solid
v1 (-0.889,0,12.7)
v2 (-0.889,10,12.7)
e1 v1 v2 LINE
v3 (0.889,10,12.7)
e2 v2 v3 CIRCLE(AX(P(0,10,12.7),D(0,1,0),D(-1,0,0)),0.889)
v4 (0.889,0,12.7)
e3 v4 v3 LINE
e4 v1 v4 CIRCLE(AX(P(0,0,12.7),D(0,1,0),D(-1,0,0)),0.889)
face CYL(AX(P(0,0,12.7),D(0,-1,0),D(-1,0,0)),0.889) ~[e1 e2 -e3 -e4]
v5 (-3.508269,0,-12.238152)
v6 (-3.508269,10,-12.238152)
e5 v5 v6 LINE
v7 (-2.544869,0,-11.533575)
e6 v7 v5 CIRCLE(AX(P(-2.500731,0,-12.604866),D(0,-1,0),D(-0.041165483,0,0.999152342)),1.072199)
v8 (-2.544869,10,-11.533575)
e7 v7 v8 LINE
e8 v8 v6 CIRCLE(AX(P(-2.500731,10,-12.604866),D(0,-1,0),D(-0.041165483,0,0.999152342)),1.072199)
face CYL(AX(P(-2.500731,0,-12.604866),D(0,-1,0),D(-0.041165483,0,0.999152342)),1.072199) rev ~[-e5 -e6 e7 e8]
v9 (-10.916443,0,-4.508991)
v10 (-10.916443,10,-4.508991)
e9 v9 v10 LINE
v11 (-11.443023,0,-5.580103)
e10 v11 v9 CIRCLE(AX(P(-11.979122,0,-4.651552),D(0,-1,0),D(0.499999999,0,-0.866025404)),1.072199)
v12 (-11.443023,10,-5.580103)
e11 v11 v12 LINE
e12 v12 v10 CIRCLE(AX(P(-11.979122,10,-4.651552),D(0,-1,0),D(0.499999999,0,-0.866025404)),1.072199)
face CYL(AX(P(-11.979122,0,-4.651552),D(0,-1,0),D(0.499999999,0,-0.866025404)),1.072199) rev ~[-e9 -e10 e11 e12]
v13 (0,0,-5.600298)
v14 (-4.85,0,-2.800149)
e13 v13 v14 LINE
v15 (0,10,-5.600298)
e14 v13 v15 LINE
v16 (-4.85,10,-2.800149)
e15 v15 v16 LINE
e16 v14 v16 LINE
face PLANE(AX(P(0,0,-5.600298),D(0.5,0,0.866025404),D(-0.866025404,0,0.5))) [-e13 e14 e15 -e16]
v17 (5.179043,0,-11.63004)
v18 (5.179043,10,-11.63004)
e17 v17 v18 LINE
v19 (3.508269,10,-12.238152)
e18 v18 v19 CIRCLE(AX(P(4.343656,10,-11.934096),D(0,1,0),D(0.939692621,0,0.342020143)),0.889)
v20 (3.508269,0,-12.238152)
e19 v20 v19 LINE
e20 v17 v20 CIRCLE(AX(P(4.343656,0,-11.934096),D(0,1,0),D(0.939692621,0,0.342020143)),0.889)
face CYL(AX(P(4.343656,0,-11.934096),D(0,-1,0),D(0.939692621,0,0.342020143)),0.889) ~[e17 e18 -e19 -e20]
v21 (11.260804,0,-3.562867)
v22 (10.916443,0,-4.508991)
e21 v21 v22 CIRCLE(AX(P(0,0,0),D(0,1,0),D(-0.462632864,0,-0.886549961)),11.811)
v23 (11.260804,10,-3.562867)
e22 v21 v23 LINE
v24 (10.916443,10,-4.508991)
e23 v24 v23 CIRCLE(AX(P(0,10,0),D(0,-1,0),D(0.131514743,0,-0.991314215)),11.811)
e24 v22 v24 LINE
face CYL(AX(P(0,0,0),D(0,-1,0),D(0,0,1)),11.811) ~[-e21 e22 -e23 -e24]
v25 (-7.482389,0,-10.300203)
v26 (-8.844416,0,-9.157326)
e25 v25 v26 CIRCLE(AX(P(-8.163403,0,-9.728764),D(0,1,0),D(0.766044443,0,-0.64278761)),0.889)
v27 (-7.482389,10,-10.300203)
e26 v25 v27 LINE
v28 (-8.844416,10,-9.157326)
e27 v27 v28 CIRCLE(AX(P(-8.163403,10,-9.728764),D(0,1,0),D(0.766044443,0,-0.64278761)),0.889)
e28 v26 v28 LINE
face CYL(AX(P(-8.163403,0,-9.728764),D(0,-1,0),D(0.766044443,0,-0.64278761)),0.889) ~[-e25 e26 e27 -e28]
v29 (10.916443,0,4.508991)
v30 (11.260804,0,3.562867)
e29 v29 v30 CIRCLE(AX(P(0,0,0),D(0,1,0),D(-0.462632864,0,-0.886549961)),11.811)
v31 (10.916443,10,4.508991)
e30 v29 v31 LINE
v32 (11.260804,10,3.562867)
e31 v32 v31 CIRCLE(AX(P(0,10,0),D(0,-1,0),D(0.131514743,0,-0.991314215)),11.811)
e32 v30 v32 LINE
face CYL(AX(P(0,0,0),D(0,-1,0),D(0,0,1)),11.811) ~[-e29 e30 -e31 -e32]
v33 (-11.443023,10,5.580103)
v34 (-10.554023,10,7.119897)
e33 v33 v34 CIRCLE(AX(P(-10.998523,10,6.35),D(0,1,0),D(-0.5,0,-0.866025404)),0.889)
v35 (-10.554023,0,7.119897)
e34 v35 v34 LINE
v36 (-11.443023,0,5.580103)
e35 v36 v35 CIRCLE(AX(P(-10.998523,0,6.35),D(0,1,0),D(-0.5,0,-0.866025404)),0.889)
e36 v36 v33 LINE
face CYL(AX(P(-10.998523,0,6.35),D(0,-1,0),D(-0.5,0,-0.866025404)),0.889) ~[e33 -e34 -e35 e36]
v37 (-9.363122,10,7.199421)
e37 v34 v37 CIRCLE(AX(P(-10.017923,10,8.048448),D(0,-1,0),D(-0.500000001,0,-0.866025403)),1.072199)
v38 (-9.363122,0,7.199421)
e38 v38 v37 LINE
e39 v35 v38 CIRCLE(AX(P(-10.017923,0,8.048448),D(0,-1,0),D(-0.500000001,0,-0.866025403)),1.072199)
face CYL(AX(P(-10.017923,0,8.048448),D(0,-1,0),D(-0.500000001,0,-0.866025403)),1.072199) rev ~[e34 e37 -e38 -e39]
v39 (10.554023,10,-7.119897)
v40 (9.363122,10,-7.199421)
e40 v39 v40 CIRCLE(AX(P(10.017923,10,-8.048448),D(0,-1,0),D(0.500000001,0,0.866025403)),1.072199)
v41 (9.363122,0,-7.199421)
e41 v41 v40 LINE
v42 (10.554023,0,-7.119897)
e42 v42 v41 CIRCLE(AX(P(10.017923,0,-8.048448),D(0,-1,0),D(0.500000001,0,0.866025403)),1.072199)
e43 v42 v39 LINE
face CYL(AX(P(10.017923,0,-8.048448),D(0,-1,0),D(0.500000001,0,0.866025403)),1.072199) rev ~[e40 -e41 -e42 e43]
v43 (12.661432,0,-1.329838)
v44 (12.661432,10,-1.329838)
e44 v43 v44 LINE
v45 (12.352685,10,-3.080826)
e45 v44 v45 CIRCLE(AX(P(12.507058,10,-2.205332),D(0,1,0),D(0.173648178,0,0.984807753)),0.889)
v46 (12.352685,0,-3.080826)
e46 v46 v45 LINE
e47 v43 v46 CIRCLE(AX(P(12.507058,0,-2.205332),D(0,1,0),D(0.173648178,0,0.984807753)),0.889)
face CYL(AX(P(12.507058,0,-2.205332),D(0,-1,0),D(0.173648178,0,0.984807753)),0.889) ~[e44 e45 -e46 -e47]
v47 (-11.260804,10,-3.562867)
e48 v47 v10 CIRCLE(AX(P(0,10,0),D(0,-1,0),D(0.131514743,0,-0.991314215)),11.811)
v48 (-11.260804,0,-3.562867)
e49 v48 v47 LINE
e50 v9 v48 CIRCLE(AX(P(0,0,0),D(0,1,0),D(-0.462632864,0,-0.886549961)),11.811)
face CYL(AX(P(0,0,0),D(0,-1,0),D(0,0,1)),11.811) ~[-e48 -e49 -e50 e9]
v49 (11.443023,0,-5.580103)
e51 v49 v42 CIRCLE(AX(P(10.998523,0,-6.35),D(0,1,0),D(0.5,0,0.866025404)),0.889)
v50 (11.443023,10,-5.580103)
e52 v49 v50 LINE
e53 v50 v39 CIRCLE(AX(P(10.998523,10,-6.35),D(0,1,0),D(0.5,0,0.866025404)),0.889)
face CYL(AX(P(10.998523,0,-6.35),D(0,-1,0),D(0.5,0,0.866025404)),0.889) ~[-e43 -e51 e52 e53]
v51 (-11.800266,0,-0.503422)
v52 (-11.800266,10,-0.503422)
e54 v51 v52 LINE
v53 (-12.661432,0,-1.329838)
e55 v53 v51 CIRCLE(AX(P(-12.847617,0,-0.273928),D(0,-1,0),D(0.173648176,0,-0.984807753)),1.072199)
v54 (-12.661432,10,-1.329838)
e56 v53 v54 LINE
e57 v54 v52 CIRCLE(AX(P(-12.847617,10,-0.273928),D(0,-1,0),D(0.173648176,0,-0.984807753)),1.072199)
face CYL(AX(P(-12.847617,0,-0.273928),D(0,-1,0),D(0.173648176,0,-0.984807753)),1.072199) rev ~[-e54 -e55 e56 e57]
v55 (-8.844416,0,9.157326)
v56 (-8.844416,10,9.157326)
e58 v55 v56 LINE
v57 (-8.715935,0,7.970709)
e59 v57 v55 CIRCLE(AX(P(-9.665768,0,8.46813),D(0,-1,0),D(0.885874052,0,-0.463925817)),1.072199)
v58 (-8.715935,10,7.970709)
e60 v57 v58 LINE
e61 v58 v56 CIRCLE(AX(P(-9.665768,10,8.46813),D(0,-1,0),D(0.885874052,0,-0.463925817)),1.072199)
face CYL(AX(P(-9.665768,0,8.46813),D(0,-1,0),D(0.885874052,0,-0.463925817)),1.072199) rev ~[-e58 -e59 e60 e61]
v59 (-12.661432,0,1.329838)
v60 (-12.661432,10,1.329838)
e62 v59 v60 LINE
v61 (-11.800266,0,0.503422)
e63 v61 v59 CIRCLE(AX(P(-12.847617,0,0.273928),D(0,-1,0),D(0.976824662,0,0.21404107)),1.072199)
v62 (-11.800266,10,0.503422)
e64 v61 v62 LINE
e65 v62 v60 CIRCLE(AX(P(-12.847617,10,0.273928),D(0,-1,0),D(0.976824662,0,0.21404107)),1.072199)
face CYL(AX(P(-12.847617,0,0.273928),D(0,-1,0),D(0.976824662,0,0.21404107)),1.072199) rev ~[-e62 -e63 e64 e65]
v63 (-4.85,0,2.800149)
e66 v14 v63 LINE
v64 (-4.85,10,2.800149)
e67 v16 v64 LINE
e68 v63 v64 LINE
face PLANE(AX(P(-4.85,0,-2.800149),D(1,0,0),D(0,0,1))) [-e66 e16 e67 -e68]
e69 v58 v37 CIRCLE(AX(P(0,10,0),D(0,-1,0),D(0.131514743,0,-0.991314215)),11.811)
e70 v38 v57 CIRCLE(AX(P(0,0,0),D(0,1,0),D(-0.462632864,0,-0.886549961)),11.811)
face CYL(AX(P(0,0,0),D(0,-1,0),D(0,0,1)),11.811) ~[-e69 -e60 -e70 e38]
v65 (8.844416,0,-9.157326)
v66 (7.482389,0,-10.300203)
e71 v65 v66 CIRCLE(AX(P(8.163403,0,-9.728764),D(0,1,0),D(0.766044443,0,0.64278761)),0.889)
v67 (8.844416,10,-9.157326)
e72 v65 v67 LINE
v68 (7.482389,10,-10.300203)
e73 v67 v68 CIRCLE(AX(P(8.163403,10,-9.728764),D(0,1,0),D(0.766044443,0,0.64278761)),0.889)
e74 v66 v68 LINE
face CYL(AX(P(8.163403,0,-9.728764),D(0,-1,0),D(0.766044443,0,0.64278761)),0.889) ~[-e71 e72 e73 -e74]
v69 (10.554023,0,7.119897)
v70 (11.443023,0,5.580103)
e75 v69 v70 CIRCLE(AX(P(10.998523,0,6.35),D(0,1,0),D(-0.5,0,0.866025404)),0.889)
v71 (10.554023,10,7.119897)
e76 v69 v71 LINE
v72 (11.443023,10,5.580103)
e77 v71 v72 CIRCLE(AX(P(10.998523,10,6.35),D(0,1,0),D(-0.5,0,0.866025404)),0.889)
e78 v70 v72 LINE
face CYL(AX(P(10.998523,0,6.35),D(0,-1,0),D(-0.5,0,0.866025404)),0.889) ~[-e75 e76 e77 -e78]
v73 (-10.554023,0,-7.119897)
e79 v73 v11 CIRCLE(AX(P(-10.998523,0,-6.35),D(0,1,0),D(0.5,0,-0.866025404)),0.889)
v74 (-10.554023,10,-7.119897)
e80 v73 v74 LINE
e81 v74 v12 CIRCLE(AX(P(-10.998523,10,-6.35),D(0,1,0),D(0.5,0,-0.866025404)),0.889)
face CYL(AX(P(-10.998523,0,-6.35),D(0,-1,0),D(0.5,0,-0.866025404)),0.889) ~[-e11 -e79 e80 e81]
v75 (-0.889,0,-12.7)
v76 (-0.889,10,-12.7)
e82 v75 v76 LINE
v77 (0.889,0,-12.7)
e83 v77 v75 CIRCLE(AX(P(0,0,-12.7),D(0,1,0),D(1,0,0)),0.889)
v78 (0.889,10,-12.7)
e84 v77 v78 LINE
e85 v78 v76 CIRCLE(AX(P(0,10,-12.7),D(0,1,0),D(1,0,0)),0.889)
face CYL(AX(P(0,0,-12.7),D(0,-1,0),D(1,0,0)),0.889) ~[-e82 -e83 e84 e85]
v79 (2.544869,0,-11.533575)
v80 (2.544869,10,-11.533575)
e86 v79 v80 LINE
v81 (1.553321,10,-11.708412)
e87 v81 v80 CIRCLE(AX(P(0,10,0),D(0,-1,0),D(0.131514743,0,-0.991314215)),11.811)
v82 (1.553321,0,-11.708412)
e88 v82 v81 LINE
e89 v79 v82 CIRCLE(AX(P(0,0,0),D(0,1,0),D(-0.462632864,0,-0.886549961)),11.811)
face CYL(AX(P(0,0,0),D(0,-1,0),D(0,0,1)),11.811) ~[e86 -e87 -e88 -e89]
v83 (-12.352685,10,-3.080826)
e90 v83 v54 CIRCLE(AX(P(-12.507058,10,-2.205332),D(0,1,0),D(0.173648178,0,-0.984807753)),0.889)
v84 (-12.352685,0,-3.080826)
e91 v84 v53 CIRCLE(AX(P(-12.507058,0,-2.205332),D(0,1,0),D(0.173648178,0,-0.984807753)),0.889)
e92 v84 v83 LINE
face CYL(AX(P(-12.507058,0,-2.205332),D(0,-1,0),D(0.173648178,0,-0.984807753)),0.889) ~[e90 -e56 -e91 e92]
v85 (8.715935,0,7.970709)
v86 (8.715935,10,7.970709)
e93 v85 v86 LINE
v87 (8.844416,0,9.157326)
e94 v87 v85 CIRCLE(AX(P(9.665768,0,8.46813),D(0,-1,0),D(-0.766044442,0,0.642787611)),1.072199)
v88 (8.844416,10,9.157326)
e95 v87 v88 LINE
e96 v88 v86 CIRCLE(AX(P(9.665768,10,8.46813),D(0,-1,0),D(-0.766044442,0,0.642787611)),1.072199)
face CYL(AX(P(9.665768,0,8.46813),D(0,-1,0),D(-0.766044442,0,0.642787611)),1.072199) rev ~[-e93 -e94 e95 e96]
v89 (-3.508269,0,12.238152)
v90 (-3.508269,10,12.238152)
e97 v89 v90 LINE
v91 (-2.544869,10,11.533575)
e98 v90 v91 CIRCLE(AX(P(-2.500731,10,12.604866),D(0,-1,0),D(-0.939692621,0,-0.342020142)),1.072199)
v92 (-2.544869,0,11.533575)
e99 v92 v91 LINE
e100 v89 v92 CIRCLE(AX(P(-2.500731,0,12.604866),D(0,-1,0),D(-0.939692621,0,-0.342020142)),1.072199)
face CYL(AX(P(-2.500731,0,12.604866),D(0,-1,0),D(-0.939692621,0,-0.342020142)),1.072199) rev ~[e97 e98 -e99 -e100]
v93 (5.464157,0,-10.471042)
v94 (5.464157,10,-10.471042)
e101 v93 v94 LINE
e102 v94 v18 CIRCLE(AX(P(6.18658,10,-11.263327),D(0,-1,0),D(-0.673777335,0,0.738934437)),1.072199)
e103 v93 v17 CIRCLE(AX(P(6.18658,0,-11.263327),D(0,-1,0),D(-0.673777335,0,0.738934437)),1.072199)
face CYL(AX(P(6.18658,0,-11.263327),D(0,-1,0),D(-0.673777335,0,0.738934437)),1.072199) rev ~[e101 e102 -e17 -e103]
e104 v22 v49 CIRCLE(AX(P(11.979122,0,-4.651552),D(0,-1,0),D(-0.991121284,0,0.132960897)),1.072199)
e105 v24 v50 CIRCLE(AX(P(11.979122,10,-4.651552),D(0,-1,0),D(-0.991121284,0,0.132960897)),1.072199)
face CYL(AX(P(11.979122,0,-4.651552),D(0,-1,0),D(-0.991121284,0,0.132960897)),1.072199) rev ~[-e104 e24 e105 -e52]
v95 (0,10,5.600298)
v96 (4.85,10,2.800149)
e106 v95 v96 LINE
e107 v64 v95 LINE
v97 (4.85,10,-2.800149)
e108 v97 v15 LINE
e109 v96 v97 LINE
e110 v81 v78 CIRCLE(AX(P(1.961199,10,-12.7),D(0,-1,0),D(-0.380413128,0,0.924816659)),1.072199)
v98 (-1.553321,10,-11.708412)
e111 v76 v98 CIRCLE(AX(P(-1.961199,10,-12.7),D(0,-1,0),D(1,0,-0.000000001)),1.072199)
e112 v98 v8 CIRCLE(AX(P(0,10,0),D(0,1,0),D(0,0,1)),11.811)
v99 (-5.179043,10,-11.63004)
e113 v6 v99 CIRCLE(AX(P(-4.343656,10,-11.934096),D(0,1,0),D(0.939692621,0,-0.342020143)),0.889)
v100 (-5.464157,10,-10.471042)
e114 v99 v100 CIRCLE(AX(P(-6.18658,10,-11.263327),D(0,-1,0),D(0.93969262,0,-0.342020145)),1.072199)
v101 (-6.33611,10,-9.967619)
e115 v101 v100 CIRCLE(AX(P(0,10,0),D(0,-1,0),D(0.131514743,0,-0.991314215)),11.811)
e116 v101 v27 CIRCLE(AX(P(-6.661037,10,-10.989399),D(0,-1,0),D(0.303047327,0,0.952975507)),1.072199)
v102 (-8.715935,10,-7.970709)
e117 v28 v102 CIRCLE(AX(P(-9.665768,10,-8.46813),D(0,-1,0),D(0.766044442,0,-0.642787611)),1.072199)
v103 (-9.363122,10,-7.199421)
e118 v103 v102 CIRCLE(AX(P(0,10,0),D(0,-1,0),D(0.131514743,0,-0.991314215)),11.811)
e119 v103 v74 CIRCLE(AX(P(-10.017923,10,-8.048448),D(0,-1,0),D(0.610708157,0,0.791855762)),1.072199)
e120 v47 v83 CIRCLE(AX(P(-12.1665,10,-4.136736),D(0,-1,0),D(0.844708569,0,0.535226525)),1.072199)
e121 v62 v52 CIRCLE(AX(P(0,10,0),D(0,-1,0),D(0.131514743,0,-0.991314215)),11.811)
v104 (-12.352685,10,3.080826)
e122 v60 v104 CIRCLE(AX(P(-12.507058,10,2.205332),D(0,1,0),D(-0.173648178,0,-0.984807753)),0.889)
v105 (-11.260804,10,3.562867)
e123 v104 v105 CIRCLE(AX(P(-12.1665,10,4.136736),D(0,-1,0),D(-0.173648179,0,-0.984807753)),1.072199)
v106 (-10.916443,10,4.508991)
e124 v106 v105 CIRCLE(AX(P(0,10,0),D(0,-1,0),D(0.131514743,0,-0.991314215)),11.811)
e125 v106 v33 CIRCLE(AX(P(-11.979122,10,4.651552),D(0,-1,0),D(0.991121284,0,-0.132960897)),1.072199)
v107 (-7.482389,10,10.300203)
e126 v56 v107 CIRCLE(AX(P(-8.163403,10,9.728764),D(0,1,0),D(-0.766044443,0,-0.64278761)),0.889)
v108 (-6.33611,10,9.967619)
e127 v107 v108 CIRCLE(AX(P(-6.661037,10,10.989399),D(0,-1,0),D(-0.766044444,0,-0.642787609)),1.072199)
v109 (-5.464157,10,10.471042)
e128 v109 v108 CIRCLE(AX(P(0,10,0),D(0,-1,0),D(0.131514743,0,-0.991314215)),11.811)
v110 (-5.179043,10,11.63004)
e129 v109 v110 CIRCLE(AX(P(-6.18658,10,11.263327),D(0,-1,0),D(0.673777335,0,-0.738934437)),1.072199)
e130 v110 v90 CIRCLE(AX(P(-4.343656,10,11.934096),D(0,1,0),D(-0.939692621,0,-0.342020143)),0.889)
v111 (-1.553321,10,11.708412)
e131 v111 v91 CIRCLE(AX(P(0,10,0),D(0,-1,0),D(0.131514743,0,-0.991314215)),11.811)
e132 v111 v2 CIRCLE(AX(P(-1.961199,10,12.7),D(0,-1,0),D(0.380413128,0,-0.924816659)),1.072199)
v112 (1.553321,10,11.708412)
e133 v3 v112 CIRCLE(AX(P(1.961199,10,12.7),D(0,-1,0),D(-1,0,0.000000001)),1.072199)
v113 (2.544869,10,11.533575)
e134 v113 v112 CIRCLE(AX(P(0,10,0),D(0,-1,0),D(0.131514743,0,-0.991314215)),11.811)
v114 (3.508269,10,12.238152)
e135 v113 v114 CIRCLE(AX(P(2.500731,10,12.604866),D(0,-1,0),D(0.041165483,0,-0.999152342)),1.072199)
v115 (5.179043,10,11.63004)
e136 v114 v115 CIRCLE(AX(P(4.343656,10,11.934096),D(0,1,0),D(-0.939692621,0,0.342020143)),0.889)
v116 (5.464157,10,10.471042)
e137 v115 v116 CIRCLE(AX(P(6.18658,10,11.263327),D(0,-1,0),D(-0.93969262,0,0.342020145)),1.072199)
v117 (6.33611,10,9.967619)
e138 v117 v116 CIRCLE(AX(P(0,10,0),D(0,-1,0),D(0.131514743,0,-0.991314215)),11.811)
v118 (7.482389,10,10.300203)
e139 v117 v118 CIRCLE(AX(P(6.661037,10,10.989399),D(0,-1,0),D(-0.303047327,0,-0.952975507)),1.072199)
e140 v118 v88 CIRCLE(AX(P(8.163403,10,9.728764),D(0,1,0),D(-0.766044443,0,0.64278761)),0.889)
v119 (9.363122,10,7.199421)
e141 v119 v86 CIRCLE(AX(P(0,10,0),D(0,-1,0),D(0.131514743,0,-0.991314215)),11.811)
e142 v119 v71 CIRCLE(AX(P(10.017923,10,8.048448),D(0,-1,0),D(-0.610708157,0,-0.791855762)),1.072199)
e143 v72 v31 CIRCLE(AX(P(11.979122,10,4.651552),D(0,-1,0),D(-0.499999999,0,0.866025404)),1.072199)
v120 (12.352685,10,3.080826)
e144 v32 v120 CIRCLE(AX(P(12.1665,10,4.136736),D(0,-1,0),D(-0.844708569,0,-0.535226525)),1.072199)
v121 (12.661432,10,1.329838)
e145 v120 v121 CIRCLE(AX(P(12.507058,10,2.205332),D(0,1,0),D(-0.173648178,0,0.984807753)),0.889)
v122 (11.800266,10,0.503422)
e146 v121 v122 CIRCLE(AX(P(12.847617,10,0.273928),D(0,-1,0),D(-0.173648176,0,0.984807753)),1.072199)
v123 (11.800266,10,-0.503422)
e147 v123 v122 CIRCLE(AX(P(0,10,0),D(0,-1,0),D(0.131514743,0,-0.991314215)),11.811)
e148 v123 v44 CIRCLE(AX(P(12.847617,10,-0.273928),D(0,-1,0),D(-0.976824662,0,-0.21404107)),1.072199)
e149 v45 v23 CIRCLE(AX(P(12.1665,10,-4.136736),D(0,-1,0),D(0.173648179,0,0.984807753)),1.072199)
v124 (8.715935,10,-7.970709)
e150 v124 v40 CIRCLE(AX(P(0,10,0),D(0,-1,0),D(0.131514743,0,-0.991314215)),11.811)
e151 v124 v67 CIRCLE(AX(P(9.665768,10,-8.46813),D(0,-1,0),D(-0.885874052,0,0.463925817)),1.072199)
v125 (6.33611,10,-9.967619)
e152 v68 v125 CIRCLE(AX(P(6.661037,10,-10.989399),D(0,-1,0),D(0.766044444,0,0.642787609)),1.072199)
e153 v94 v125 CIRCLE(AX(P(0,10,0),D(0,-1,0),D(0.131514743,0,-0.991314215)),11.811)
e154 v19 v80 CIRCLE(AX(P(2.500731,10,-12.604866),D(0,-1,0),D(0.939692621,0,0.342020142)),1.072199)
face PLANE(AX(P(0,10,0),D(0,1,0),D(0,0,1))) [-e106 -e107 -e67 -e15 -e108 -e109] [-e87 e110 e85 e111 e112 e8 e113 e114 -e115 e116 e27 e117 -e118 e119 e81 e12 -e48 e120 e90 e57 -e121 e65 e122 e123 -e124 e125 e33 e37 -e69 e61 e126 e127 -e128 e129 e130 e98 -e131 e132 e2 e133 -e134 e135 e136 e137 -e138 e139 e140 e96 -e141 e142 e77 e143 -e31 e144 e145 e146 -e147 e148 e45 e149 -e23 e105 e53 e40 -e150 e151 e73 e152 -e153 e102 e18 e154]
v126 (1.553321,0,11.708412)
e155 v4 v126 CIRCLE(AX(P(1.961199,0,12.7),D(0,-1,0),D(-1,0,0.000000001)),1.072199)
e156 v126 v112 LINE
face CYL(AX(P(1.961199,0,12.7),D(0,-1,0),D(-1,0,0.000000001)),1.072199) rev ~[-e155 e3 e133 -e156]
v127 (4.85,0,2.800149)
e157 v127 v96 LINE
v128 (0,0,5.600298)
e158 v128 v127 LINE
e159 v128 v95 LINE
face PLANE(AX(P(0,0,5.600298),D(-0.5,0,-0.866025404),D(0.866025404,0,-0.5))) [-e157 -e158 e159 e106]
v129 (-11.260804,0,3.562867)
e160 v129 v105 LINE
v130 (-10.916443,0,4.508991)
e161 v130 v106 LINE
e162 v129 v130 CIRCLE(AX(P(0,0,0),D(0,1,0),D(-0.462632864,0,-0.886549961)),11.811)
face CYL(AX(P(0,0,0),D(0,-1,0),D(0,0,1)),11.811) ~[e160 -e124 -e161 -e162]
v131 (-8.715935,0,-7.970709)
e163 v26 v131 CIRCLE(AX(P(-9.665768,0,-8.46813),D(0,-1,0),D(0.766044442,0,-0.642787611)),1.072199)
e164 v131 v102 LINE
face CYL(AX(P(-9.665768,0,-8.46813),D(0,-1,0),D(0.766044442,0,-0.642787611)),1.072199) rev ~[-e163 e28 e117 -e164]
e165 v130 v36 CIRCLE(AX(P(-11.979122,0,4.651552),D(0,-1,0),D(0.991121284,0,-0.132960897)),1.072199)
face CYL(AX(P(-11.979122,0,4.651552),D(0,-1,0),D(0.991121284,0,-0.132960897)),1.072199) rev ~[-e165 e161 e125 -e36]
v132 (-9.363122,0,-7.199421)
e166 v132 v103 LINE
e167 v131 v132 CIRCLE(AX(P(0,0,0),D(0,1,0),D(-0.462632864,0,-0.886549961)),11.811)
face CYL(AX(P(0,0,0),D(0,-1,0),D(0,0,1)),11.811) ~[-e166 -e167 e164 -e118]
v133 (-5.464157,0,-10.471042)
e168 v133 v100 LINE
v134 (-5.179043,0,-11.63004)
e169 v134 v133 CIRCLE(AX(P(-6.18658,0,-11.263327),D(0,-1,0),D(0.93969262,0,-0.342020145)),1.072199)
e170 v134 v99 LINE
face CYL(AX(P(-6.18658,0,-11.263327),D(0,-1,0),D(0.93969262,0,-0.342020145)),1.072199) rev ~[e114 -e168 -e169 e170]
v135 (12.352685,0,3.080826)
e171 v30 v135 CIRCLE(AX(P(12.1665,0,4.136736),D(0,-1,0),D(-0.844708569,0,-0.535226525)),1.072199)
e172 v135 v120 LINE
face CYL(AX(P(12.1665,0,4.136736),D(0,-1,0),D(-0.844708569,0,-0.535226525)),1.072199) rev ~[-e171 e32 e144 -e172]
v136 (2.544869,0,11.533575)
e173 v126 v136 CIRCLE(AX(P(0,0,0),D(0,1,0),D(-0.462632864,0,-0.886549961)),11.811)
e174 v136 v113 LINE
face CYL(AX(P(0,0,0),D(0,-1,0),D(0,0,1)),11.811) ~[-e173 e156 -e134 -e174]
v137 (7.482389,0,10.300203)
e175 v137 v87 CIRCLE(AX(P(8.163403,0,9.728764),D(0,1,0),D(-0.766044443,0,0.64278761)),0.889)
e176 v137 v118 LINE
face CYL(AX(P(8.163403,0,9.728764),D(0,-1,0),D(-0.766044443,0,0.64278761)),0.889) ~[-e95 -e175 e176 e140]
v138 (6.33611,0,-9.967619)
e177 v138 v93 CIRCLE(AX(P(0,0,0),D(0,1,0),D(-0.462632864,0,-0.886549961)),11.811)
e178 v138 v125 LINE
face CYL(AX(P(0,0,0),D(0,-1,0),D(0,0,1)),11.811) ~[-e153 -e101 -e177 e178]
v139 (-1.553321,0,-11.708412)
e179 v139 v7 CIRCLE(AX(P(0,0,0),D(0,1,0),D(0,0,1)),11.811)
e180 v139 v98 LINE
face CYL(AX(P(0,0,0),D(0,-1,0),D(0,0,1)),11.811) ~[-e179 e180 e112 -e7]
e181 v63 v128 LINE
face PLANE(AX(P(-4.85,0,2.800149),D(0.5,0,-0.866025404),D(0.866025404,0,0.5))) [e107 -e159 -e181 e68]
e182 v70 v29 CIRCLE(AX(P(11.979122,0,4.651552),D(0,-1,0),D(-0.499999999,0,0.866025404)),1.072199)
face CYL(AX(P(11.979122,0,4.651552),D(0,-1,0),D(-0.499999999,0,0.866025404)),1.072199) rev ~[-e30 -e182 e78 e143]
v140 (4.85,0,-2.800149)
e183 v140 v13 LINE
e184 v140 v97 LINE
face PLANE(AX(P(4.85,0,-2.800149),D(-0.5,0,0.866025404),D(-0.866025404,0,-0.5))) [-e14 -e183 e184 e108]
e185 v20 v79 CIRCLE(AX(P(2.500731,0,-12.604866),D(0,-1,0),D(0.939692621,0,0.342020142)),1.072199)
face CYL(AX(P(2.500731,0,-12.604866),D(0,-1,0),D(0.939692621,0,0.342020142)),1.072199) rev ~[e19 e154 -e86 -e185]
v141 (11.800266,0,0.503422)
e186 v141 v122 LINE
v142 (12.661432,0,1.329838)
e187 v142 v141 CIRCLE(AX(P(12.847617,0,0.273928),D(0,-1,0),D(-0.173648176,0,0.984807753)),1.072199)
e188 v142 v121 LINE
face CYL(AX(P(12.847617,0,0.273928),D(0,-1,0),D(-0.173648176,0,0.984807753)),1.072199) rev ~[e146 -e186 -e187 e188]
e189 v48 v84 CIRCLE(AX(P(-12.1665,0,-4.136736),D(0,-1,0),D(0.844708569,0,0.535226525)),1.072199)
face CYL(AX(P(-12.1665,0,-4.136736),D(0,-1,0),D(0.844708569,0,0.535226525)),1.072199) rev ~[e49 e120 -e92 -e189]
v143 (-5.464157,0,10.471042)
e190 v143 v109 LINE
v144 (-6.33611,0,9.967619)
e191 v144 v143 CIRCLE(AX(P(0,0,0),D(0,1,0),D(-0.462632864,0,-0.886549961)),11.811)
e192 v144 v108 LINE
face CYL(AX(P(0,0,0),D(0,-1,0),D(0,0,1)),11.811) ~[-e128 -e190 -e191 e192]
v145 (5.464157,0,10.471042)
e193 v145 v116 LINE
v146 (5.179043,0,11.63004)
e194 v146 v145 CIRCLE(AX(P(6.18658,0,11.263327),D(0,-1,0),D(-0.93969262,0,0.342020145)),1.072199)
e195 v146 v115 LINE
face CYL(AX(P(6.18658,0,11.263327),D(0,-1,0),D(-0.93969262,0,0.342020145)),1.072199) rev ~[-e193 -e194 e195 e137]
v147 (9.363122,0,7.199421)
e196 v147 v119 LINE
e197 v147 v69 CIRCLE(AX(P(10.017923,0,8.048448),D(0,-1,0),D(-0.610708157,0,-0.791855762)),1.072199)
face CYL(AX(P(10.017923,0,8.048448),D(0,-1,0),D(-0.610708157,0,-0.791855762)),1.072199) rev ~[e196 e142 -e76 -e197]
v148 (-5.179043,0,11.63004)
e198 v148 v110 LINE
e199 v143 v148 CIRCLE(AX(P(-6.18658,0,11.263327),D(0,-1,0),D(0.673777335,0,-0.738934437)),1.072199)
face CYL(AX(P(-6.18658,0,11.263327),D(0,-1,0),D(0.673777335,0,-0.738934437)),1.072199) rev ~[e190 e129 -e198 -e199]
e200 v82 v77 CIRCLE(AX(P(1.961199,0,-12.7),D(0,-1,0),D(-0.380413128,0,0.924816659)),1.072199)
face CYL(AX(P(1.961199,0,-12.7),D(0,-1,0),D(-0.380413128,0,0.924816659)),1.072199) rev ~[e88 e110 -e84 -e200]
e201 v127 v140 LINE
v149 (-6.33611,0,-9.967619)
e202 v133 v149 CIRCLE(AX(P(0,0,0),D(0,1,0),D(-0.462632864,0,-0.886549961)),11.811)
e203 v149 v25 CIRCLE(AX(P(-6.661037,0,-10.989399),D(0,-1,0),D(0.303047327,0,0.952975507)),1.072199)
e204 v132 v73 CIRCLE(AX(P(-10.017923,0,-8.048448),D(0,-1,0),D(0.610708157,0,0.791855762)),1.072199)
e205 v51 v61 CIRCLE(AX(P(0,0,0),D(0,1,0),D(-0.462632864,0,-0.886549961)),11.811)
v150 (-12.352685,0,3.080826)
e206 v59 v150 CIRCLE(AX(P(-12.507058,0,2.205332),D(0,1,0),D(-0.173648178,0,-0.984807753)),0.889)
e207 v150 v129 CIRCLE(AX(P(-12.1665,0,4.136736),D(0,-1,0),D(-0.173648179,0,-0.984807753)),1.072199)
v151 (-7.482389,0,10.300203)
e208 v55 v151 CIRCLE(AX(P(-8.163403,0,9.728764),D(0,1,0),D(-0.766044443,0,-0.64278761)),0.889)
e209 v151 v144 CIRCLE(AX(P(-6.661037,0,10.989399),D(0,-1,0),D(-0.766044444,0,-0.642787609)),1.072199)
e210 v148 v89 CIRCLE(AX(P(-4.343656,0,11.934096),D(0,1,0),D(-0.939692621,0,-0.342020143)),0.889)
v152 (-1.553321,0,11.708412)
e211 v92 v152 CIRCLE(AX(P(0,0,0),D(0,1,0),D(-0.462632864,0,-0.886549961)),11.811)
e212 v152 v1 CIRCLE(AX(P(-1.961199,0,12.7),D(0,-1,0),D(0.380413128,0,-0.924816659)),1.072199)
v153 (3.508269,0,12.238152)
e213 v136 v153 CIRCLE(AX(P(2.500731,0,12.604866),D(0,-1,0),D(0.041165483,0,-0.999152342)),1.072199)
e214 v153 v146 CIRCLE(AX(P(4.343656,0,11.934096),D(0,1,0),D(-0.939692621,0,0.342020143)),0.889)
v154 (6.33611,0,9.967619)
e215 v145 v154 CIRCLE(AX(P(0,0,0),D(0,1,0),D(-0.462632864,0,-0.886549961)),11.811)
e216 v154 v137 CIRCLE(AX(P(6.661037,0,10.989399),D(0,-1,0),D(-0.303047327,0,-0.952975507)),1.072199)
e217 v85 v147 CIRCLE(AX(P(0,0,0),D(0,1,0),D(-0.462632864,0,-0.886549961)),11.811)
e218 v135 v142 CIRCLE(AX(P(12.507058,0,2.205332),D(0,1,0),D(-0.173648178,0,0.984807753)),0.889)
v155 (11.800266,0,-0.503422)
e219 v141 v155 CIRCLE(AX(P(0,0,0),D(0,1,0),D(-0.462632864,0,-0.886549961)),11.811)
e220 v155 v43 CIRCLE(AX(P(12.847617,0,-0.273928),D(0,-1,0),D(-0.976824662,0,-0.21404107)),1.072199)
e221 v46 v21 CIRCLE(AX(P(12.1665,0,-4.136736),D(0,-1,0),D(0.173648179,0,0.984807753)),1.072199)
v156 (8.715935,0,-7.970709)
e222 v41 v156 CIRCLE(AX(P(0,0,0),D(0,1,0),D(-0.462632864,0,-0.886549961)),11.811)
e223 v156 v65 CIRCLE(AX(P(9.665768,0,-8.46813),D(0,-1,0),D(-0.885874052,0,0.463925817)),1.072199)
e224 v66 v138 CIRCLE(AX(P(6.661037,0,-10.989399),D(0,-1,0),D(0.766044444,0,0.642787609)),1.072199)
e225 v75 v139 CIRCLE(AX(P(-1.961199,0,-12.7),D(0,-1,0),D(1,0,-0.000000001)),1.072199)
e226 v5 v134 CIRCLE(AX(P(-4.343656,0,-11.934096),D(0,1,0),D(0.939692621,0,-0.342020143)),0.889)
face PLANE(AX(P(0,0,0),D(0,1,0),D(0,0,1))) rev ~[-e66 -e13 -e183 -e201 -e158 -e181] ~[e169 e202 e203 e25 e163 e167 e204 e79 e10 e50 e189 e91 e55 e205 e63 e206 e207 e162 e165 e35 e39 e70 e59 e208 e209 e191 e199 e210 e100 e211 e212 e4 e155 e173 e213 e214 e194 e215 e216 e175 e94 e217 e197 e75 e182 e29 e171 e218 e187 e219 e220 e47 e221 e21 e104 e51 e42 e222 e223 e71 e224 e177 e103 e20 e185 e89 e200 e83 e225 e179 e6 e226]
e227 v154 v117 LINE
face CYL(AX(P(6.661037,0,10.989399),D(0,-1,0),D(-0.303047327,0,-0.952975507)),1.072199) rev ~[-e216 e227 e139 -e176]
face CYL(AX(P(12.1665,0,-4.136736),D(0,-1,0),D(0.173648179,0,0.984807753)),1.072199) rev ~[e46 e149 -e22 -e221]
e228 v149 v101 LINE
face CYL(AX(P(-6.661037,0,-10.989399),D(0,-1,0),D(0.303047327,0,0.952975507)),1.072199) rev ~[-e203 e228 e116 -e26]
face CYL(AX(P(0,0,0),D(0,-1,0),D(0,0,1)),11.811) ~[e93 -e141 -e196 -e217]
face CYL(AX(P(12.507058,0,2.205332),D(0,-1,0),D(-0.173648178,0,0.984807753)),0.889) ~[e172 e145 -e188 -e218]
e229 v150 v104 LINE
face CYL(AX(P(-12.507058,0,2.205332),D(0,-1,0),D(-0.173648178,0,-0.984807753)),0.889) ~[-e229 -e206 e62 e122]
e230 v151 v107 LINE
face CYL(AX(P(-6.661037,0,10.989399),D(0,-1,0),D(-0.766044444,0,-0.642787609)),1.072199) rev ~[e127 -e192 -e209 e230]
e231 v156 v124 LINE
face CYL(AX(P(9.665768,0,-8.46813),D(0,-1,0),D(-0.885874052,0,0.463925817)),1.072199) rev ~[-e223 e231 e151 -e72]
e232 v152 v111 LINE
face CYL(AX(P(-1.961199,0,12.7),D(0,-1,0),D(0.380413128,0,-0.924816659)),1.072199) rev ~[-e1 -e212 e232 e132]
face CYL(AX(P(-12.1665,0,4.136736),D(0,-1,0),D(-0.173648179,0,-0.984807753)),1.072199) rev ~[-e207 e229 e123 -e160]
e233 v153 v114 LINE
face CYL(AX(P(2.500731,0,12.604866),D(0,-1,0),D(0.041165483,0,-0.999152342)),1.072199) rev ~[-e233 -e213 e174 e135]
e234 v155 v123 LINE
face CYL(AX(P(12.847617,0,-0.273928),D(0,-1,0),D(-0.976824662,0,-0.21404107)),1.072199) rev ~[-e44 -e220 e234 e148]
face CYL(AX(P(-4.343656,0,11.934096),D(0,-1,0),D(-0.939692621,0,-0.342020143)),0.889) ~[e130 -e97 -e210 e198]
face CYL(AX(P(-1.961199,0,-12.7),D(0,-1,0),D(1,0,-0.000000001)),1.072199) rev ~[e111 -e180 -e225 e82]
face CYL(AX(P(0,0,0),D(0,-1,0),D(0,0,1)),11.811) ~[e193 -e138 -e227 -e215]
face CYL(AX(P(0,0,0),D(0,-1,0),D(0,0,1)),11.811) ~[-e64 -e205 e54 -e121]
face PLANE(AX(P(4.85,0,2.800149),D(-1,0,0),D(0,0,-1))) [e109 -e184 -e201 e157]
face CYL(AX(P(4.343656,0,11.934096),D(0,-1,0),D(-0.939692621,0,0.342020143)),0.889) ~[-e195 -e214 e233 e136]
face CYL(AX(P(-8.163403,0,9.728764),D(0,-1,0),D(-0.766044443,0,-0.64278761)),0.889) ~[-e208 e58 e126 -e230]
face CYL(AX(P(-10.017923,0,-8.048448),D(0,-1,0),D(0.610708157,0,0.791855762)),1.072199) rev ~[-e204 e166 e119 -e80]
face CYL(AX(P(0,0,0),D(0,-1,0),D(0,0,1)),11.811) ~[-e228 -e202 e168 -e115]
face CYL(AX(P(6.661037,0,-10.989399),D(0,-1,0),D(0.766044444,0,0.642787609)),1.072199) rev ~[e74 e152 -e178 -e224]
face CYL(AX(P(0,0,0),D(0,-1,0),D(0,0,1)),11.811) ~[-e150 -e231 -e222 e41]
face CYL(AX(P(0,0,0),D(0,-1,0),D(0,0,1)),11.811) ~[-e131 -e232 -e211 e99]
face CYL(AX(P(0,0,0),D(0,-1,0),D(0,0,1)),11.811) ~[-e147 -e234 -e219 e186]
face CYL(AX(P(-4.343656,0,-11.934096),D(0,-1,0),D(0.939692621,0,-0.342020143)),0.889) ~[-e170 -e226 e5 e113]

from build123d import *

# Parameters (mm, degrees)
SKETCH1_R           = 11.811
BOSS_EXTRUDE1_DEPTH = 10
BOSS_EXTRUDE2_START = -10
BOSS_EXTRUDE2_DEPTH = 10
CIRPATTERN1_COUNT   = 18


with BuildPart() as part:
    # Sketch1 → Boss-Extrude1 (new body)
    with BuildSketch(Plane(origin=(0, 0, 0), x_dir=(1, 0, 0), z_dir=(0, 1, 0))):
        with Locations(Location((0, 0, 0), (0, 0, 270))):
            Circle(SKETCH1_R)
        Polygon((0, 5.600297611), (-4.85, 2.800148806), (-4.85, -2.800148806), (0, -5.600297611), (4.85, -2.800148806), (4.85, 2.800148806), align=None, mode=Mode.SUBTRACT)
    extrude(amount=BOSS_EXTRUDE1_DEPTH)

    # Sketch2 → Boss-Extrude2 (add)
    with BuildSketch(Plane(origin=(0, 10, 0), x_dir=(1, 0, 0), z_dir=(0, 1, 0)).offset(BOSS_EXTRUDE2_START)):
        with BuildLine():
            ThreePointArc((0.889, 12.7), (0, 13.589), (-0.889, 12.7))
            ThreePointArc((-0.889, 12.7), (-1.070430373, 12.103223599), (-1.553320634, 11.70841219))
            ThreePointArc((-1.553320634, 11.70841219), (0, 11.811), (1.553320634, 11.70841219))
            ThreePointArc((1.553320634, 11.70841219), (1.070430373, 12.103223599), (0.889, 12.7))
        make_face()
    boss_extrude2 = extrude(amount=BOSS_EXTRUDE2_DEPTH)

    # CirPattern1: Boss-Extrude2 ×18 about axis
    cirpattern1_axis = Axis((0, 0, 0), (0, 1, 0))
    for i in range(1, CIRPATTERN1_COUNT):
        add(boss_extrude2.rotate(cirpattern1_axis, i * 360 / CIRPATTERN1_COUNT))


solid = part.part
